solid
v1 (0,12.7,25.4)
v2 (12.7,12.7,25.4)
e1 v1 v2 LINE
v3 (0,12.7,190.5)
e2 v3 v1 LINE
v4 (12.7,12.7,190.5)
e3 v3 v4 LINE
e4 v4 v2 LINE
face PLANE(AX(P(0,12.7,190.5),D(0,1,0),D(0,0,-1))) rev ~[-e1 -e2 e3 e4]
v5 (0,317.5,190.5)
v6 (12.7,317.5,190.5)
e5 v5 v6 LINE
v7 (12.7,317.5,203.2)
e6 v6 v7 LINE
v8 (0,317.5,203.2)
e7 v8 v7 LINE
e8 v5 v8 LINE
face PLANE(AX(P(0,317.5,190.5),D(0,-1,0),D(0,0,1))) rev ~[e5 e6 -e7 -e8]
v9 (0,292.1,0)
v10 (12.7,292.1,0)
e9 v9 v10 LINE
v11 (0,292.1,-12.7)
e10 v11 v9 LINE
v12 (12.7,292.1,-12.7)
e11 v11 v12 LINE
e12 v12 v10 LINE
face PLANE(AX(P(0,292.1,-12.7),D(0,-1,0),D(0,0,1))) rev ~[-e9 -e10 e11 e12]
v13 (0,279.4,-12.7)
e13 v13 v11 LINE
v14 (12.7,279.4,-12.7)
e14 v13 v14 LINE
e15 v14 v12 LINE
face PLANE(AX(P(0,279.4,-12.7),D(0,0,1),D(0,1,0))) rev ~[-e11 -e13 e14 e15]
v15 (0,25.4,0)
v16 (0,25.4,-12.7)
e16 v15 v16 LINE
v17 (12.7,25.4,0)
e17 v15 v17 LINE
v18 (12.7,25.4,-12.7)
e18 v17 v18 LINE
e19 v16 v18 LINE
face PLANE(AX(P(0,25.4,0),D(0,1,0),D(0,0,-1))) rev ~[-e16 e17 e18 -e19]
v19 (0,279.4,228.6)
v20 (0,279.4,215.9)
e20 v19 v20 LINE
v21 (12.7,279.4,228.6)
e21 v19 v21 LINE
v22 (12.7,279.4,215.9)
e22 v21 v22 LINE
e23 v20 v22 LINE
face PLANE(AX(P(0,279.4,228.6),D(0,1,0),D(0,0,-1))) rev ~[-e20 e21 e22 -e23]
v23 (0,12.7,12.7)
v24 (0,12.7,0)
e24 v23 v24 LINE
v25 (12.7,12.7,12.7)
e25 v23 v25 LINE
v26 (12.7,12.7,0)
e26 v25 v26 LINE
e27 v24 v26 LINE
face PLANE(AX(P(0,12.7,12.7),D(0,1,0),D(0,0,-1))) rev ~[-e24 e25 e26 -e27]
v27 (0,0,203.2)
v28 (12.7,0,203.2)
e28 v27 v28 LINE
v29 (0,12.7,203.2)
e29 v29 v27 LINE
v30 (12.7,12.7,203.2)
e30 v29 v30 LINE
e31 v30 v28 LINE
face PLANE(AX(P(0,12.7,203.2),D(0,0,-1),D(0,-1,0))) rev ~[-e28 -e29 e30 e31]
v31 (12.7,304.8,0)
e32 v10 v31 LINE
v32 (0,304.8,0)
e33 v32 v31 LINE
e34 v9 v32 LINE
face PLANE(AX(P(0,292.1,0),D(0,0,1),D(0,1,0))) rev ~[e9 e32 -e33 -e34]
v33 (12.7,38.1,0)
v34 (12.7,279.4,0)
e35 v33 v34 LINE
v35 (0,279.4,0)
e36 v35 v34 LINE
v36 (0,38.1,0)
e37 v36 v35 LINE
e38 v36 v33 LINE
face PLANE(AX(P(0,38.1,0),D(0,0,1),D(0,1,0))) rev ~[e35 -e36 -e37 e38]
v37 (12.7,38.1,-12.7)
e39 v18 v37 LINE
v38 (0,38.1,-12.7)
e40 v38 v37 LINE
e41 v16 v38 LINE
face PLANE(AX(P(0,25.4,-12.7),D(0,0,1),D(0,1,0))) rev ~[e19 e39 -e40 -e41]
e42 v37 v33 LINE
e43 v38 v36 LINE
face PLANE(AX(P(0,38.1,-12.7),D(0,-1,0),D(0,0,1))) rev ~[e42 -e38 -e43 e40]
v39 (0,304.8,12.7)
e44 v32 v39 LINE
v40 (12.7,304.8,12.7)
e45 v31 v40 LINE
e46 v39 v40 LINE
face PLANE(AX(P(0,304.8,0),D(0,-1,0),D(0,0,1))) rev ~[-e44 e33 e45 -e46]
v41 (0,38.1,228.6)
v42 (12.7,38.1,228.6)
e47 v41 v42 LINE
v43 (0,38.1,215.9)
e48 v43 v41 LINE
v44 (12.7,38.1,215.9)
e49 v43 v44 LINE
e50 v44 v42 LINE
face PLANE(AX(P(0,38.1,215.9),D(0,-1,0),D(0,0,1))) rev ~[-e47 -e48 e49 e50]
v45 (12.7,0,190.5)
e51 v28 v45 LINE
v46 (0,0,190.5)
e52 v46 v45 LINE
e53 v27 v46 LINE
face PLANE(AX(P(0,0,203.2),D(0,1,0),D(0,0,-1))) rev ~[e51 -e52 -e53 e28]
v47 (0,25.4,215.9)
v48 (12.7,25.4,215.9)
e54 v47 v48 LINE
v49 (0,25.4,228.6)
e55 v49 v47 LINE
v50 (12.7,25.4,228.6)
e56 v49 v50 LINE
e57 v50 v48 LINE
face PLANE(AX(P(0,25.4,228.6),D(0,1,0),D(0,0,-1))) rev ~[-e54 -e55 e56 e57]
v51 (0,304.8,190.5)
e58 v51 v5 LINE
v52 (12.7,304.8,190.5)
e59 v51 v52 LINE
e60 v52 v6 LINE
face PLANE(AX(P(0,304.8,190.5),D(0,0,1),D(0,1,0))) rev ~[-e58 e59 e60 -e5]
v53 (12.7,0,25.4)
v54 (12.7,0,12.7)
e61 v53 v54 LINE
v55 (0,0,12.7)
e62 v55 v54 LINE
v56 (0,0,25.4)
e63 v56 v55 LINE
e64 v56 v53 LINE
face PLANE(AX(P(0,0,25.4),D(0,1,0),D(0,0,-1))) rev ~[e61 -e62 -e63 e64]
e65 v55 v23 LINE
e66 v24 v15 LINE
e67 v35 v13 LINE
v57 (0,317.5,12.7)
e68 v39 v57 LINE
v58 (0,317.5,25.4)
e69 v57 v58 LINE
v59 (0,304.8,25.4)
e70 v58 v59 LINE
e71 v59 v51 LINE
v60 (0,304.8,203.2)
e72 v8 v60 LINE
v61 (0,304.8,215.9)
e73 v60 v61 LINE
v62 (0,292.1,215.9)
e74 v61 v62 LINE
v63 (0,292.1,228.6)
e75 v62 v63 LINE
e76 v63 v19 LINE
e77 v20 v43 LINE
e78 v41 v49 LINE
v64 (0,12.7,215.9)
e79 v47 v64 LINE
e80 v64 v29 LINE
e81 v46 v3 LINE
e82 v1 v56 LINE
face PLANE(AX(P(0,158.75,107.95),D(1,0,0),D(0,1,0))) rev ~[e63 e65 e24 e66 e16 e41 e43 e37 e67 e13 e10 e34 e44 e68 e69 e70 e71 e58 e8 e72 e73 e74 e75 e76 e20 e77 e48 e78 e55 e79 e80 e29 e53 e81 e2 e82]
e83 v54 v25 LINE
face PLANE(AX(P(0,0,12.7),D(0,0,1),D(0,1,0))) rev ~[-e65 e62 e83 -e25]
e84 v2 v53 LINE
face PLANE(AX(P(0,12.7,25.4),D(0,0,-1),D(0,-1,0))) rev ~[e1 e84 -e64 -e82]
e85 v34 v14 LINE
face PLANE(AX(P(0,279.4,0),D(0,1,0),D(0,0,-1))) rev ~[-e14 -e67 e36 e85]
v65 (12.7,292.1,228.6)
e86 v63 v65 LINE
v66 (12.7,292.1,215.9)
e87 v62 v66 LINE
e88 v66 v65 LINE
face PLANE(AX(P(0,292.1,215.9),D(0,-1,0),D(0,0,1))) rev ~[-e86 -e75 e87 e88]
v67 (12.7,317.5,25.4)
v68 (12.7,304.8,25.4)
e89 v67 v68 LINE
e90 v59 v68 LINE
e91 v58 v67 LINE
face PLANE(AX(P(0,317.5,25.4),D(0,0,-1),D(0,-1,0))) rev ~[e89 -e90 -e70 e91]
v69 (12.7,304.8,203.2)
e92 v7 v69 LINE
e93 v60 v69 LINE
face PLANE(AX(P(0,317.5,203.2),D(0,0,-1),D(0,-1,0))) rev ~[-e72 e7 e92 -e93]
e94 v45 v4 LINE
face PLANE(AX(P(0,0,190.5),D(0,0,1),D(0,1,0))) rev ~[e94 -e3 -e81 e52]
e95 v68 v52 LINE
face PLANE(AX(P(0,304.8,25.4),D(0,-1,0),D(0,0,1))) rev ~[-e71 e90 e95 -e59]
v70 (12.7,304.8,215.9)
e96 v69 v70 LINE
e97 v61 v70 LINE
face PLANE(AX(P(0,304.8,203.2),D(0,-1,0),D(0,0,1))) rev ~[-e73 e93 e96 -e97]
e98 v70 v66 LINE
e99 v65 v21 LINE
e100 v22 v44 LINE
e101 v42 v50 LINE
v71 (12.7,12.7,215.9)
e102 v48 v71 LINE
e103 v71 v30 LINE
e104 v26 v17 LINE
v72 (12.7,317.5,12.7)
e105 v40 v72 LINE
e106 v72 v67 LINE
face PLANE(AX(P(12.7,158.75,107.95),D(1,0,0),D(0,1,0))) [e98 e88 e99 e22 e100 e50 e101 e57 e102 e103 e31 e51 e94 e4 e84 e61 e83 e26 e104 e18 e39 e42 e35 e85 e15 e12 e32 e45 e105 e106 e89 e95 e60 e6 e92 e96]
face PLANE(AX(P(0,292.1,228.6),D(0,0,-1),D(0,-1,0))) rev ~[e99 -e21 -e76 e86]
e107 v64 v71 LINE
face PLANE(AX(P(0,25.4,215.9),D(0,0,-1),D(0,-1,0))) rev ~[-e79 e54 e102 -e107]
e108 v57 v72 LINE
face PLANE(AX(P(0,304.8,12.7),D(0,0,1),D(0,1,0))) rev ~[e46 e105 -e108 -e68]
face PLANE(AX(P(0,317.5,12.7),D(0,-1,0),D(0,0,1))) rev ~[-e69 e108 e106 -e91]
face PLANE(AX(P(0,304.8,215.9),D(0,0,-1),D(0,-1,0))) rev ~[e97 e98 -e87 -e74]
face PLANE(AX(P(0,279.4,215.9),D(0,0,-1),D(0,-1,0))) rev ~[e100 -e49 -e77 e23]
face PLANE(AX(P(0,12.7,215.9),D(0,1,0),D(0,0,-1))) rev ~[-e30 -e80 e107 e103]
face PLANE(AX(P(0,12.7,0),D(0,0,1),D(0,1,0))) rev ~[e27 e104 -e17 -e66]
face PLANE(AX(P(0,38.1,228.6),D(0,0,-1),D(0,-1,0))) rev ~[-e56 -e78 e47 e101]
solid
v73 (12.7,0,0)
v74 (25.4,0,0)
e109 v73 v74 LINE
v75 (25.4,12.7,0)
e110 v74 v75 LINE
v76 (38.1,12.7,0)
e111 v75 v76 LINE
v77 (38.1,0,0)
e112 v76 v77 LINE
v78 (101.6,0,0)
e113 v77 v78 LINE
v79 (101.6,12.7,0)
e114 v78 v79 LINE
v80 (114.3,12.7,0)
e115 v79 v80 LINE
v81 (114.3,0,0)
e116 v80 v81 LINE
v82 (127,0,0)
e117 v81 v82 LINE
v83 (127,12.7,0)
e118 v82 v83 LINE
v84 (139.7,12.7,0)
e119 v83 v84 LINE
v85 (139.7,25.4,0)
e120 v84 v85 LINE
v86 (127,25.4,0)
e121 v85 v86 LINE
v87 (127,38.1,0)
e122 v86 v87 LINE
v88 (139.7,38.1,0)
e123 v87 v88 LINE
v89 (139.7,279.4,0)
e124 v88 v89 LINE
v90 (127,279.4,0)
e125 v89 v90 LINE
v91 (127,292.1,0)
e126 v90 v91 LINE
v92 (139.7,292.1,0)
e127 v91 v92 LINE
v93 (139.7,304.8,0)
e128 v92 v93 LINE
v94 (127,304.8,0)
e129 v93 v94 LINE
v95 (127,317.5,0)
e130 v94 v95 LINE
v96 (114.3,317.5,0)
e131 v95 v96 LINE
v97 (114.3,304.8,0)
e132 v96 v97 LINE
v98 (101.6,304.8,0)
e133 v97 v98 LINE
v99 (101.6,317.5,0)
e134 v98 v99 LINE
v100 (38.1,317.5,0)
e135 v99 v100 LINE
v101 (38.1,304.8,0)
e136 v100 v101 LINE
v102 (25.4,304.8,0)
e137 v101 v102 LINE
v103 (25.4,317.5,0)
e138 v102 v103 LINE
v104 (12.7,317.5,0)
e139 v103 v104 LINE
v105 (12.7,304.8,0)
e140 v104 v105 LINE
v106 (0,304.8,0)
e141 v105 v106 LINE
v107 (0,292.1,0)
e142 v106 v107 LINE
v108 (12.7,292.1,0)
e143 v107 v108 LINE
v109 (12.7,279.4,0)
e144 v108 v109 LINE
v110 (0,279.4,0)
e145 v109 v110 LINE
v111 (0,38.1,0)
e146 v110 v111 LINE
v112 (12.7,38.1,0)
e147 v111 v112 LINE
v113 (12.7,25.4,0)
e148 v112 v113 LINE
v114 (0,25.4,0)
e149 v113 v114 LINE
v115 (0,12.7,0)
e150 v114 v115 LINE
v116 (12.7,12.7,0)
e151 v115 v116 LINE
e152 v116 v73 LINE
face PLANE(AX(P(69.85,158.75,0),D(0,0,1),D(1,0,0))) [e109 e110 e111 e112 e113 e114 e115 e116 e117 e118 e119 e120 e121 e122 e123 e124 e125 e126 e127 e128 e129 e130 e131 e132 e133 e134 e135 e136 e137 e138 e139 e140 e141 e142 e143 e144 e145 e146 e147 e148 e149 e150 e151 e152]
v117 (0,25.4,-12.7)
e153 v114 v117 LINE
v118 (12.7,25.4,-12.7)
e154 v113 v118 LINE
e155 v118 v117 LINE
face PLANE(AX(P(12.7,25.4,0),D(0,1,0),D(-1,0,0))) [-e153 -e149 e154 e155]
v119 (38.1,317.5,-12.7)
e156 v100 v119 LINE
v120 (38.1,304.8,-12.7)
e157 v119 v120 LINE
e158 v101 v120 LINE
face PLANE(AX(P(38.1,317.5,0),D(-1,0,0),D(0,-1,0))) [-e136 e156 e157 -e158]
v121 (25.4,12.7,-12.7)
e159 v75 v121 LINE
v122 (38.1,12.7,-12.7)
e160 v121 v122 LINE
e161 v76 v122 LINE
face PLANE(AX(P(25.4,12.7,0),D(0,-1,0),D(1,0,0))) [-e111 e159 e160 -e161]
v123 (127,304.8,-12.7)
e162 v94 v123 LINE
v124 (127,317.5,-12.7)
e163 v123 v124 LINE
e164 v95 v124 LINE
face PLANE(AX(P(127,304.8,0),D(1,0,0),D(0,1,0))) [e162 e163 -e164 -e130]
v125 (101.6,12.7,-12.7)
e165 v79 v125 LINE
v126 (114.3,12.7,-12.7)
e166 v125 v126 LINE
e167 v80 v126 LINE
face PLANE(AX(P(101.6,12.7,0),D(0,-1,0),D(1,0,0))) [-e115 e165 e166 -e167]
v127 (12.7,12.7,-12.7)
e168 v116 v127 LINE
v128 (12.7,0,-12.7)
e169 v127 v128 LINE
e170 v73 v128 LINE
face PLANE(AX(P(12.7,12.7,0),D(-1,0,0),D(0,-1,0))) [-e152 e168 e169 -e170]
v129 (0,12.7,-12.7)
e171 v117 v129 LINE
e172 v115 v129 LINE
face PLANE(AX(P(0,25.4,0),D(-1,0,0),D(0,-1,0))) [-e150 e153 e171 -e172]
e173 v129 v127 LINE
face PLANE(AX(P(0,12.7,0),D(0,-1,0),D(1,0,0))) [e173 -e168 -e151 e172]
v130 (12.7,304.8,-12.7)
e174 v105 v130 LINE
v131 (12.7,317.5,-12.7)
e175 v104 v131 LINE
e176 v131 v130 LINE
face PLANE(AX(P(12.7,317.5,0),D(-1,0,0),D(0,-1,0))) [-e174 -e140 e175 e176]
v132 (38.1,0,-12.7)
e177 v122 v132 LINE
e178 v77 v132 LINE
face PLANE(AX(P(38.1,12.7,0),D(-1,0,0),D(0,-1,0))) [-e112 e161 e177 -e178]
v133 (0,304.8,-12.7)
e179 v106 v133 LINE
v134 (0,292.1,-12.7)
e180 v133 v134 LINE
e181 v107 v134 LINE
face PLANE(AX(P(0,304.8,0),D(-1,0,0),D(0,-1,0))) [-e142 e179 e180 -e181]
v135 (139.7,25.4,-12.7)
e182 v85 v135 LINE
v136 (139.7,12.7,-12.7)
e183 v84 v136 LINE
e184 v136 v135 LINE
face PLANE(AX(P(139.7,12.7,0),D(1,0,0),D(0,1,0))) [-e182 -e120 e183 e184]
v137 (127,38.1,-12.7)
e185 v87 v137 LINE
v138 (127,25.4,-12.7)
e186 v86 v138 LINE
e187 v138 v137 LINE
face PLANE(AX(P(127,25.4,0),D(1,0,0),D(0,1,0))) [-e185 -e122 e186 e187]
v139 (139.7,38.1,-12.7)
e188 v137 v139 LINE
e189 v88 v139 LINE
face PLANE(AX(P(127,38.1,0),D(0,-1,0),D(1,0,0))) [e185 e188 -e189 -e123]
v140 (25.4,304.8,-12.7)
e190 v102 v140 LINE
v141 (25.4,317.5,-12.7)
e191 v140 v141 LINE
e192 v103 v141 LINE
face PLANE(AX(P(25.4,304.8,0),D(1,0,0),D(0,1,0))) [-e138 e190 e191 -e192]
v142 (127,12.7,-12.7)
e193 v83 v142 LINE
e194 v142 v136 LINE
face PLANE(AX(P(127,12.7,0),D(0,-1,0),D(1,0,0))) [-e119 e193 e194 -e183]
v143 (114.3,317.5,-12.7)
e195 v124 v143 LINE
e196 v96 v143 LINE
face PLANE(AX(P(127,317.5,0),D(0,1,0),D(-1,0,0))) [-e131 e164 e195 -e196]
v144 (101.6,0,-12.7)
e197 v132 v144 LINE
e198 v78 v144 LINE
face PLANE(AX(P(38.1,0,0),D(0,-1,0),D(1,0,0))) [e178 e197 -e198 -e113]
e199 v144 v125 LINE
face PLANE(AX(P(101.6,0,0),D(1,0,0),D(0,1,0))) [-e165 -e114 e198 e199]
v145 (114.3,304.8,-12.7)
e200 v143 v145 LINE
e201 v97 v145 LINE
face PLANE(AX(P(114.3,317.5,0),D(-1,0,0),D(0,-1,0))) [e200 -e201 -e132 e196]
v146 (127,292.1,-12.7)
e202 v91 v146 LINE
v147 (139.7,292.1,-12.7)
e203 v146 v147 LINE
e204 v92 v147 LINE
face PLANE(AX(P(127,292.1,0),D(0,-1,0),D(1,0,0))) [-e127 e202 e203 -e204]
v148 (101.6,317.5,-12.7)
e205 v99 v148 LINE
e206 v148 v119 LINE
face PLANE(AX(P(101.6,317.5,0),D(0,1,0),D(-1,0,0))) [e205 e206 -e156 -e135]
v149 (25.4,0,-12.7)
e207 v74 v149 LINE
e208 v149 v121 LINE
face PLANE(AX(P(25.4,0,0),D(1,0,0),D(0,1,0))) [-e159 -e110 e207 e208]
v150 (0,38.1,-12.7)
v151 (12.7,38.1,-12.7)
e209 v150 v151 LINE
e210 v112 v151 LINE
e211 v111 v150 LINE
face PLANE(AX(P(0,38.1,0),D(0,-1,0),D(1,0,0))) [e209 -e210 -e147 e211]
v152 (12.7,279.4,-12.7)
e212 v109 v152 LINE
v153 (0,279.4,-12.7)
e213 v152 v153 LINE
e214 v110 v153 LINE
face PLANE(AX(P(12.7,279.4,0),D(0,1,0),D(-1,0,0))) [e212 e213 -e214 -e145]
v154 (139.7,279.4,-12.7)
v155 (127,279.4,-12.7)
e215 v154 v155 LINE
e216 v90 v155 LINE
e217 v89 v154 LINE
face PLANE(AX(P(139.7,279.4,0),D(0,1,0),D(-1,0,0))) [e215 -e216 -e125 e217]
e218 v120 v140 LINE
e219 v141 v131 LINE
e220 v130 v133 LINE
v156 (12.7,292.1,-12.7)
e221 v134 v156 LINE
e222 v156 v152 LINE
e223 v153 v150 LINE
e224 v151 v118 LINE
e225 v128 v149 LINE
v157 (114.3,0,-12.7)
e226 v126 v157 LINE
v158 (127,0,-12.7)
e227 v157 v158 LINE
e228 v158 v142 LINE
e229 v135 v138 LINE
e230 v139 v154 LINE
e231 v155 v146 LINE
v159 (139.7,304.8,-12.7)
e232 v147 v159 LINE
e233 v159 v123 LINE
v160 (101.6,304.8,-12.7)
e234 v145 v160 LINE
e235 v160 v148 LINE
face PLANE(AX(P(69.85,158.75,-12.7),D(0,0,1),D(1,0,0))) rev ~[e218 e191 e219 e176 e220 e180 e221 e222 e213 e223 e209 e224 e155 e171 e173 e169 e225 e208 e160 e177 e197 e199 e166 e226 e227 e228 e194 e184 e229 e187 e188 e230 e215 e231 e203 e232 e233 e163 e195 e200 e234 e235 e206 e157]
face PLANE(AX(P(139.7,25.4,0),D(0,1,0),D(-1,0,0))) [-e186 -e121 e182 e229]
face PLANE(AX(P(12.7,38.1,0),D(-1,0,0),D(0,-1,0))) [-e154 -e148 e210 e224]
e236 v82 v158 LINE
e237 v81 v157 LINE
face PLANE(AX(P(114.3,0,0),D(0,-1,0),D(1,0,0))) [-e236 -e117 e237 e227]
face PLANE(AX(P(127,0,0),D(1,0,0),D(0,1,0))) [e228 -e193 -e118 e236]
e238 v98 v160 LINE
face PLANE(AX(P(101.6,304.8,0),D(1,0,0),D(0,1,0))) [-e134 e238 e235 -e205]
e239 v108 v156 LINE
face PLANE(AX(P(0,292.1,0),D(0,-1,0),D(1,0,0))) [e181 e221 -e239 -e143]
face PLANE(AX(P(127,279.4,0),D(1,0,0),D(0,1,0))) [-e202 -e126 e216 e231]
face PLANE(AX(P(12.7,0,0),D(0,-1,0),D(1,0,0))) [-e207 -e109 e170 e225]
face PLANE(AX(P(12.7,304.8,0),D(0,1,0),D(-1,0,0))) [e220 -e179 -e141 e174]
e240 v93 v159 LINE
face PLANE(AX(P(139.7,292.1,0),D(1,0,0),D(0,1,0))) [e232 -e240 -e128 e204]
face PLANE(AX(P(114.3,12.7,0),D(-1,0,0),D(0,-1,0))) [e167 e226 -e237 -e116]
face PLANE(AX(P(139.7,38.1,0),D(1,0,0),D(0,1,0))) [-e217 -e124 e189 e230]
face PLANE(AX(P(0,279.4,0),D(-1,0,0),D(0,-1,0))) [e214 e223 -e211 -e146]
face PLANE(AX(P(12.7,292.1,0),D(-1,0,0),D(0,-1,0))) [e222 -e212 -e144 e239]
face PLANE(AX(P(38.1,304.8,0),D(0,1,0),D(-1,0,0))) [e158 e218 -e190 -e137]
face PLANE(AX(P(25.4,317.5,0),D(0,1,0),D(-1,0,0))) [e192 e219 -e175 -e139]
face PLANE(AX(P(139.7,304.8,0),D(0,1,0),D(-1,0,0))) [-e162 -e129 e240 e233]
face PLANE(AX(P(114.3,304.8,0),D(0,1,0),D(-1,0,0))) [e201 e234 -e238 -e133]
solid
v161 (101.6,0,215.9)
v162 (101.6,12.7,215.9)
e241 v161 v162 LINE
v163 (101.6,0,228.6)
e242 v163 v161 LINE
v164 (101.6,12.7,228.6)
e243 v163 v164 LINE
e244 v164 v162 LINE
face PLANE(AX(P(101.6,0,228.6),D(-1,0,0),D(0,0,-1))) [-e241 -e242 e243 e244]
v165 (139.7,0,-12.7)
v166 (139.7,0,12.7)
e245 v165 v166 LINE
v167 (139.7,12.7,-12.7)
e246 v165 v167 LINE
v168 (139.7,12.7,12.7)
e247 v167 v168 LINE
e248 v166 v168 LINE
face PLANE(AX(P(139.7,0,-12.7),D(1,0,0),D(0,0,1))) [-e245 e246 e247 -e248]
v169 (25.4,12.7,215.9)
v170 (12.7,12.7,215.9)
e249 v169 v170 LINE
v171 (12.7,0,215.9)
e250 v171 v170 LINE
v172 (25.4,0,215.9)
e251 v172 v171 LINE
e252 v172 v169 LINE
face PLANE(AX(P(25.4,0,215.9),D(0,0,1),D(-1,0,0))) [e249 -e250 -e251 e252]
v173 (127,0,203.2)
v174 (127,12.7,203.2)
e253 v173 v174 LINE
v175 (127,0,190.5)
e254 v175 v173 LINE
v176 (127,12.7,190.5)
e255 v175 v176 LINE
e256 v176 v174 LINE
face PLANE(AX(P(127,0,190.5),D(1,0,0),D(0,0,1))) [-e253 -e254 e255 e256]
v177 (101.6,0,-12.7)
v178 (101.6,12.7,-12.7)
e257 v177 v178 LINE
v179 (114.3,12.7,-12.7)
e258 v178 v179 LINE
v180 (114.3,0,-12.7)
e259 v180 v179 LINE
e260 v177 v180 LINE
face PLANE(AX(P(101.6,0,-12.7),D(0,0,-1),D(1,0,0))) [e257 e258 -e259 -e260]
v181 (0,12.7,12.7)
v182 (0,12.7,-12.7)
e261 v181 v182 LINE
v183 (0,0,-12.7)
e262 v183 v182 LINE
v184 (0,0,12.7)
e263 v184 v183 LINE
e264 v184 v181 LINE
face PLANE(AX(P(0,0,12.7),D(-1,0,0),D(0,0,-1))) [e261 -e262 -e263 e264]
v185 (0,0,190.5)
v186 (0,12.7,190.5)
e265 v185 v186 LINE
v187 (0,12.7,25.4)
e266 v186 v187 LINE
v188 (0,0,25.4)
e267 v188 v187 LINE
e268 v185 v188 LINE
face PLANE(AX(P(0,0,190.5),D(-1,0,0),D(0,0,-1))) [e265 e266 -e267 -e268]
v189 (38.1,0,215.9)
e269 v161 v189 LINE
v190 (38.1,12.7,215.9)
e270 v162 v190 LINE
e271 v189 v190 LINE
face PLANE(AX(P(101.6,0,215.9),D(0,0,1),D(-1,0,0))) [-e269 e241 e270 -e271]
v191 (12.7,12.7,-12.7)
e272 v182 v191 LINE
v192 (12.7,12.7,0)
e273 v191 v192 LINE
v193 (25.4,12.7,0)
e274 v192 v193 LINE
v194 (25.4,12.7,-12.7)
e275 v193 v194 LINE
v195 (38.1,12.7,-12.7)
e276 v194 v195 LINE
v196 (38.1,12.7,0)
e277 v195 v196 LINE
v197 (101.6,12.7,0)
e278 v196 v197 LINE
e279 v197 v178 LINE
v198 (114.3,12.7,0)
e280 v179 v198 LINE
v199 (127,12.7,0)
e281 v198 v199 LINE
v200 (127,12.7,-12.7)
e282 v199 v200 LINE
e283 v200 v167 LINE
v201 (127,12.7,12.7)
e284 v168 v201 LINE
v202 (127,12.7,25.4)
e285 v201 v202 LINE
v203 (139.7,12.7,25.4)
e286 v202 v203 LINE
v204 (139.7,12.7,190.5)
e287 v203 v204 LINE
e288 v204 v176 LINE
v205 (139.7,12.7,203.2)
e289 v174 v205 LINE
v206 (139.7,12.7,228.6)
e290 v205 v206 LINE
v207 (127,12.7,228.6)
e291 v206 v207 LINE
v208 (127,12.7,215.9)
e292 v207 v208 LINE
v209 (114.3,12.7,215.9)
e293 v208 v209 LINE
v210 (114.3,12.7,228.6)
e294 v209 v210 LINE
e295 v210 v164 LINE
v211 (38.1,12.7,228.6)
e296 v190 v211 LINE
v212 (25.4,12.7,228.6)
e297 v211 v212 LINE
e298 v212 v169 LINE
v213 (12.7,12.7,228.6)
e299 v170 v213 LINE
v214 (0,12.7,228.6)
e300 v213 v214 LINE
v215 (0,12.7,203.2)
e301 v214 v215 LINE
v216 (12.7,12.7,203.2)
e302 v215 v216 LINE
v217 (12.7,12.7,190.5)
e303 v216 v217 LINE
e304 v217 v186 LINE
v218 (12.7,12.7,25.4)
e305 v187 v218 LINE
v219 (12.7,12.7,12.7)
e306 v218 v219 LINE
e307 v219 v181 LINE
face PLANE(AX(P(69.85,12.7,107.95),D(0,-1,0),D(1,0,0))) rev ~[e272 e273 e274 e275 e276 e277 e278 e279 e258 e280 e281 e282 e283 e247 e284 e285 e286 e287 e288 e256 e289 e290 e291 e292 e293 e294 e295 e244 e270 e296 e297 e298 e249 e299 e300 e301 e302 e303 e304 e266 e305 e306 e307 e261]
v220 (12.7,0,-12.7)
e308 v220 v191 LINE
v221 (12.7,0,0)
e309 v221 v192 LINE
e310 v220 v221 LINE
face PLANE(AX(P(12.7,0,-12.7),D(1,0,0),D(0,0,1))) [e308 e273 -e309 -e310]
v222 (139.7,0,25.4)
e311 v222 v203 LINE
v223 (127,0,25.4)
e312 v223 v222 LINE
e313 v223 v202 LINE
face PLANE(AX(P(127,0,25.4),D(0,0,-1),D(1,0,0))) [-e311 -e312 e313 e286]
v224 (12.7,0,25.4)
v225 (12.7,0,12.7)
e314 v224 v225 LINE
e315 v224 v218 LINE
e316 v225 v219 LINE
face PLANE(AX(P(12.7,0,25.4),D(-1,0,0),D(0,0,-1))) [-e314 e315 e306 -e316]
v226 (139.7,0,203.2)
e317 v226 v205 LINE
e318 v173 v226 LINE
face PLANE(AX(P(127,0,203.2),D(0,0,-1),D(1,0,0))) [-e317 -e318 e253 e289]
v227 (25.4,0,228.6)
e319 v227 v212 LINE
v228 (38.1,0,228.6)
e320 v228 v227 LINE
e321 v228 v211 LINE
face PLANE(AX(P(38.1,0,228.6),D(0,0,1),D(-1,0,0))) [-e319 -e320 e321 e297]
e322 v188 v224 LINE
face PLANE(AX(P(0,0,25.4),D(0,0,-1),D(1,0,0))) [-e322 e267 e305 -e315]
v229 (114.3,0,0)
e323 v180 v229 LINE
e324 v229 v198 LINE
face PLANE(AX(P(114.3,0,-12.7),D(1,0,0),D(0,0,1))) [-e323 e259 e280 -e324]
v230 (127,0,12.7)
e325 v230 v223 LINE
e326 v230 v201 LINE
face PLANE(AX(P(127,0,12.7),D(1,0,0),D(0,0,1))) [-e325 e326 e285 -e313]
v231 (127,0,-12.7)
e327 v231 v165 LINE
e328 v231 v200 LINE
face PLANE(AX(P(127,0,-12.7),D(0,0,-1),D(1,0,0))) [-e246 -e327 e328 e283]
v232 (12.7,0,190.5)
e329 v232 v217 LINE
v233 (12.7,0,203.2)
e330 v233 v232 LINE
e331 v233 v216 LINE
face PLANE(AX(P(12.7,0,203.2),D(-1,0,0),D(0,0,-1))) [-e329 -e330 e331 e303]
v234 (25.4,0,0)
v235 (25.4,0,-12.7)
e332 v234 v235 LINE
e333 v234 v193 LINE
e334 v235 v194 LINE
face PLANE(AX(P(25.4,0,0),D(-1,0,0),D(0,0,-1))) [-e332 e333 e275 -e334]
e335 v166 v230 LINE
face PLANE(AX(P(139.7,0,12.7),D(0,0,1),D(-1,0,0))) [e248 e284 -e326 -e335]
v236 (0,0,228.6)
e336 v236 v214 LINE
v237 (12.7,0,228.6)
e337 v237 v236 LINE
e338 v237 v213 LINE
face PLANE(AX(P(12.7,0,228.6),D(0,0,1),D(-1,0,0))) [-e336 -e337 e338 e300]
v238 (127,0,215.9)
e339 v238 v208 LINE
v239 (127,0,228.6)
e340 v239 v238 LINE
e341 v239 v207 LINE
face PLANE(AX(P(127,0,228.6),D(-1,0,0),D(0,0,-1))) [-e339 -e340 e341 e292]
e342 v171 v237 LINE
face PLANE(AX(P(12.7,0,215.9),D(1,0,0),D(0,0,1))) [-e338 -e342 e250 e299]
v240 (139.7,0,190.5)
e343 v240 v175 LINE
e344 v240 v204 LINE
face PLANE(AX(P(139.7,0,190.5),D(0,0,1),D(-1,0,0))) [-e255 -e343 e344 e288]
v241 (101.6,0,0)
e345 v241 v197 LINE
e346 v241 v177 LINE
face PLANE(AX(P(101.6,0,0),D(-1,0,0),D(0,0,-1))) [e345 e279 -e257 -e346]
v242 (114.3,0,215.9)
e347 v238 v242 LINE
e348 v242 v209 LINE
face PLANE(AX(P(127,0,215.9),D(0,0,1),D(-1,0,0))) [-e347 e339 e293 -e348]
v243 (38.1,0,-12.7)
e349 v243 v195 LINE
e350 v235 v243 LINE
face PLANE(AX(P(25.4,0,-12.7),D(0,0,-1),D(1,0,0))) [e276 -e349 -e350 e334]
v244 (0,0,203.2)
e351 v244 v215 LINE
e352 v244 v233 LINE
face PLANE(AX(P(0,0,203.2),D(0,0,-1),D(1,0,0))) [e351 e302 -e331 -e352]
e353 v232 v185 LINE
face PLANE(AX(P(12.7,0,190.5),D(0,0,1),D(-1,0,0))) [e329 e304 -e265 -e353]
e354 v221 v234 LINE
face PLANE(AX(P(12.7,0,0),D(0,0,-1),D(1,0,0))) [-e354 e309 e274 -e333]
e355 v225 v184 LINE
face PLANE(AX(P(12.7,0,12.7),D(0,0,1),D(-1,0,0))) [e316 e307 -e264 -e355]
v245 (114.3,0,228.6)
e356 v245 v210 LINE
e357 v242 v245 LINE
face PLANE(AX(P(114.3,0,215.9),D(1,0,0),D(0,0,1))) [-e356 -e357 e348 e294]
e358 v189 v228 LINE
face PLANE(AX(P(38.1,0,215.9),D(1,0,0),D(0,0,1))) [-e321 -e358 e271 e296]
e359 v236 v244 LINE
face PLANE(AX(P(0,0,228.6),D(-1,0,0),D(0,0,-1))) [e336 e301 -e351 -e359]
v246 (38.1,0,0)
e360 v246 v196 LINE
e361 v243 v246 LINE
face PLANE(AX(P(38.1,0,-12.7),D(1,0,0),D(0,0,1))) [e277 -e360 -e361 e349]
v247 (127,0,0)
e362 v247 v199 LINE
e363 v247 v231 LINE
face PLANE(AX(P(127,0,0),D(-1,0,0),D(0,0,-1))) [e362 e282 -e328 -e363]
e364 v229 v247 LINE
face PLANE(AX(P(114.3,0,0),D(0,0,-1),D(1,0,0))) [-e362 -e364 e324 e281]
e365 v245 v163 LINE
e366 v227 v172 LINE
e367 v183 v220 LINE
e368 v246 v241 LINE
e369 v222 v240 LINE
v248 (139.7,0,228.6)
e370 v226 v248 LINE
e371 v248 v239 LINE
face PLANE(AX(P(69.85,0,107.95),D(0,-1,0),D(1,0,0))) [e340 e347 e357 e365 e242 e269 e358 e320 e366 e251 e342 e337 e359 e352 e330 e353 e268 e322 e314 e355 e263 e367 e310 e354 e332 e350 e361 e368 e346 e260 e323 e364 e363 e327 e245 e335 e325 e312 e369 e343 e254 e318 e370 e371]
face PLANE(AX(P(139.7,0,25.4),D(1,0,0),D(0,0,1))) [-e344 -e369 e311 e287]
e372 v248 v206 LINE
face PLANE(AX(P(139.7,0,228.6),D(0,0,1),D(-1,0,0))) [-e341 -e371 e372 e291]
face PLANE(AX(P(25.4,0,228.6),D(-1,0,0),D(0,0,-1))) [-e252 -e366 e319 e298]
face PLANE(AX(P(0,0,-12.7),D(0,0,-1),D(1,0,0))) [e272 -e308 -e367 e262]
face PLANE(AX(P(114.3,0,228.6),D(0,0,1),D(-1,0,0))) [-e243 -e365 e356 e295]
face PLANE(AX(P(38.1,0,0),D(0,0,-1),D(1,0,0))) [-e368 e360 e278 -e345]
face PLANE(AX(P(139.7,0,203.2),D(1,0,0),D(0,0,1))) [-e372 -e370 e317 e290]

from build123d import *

# Parameters (mm, degrees)
F1_DEPTH = 12.7
F3_DEPTH = 12.7
F5_DEPTH = 12.7


with BuildPart() as f1:
    # F0 (on Top) → F1 (new body)
    with BuildSketch(Plane.XY):
        Polygon((12.7, 12.7), (12.7, 0), (25.4, 0), (25.4, 12.7), (38.1, 12.7), (38.1, 0), (69.85, 0), (101.6, 0), (101.6, 12.7), (114.3, 12.7), (114.3, 0), (127, 0), (127, 12.7), (139.7, 12.7), (139.7, 25.4), (127, 25.4), (127, 38.1), (139.7, 38.1), (139.7, 279.4), (127, 279.4), (127, 292.1), (139.7, 292.1), (139.7, 304.8), (127, 304.8), (127, 317.5), (114.3, 317.5), (114.3, 304.8), (101.6, 304.8), (101.6, 317.5), (38.1, 317.5), (38.1, 304.8), (25.4, 304.8), (25.4, 317.5), (12.7, 317.5), (12.7, 304.8), (0, 304.8), (0, 292.1), (12.7, 292.1), (12.7, 279.4), (0, 279.4), (0, 158.75), (0, 38.1), (12.7, 38.1), (12.7, 25.4), (0, 25.4), (0, 12.7), align=None)
    extrude(amount=-F1_DEPTH)


with BuildPart() as f3:
    # F2 (on Front) → F3 (new body)
    with BuildSketch(Plane.XZ):
        Polygon((0, 12.7), (0, 0), (0, -12.7), (12.7, -12.7), (12.7, 0), (25.4, 0), (25.4, -12.7), (38.1, -12.7), (38.1, 0), (69.85, 0), (101.6, 0), (101.6, -12.7), (114.3, -12.7), (114.3, 0), (127, 0), (127, -12.7), (139.7, -12.7), (139.7, 0), (139.7, 12.7), (127, 12.7), (127, 25.4), (139.7, 25.4), (139.7, 190.5), (127, 190.5), (127, 203.2), (139.7, 203.2), (139.7, 215.9), (139.7, 228.6), (127, 228.6), (127, 215.9), (114.3, 215.9), (114.3, 228.6), (101.6, 228.6), (101.6, 215.9), (38.1, 215.9), (38.1, 228.6), (25.4, 228.6), (25.4, 215.9), (12.7, 215.9), (12.7, 228.6), (0, 228.6), (0, 215.9), (0, 203.2), (12.7, 203.2), (12.7, 190.5), (0, 190.5), (0, 107.95), (0, 25.4), (12.7, 25.4), (12.7, 12.7), align=None)
    extrude(amount=-F3_DEPTH)


with BuildPart() as f5:
    # F4 (on Right) → F5 (new body)
    with BuildSketch(Plane.YZ):
        Polygon((12.7, 12.7), (12.7, 0), (25.4, 0), (25.4, -12.7), (38.1, -12.7), (38.1, 0), (279.4, 0), (279.4, -12.7), (292.1, -12.7), (292.1, 0), (304.8, 0), (304.8, 12.7), (317.5, 12.7), (317.5, 25.4), (304.8, 25.4), (304.8, 190.5), (317.5, 190.5), (317.5, 203.2), (304.8, 203.2), (304.8, 215.9), (292.1, 215.9), (292.1, 228.6), (279.4, 228.6), (279.4, 215.9), (158.75, 215.9), (38.1, 215.9), (38.1, 228.6), (25.4, 228.6), (25.4, 215.9), (12.7, 215.9), (12.7, 203.2), (0, 203.2), (0, 190.5), (12.7, 190.5), (12.7, 107.95), (12.7, 25.4), (0, 25.4), (0, 12.7), align=None)
    extrude(amount=F5_DEPTH)


solid = Compound([f1.part, f3.part, f5.part])
